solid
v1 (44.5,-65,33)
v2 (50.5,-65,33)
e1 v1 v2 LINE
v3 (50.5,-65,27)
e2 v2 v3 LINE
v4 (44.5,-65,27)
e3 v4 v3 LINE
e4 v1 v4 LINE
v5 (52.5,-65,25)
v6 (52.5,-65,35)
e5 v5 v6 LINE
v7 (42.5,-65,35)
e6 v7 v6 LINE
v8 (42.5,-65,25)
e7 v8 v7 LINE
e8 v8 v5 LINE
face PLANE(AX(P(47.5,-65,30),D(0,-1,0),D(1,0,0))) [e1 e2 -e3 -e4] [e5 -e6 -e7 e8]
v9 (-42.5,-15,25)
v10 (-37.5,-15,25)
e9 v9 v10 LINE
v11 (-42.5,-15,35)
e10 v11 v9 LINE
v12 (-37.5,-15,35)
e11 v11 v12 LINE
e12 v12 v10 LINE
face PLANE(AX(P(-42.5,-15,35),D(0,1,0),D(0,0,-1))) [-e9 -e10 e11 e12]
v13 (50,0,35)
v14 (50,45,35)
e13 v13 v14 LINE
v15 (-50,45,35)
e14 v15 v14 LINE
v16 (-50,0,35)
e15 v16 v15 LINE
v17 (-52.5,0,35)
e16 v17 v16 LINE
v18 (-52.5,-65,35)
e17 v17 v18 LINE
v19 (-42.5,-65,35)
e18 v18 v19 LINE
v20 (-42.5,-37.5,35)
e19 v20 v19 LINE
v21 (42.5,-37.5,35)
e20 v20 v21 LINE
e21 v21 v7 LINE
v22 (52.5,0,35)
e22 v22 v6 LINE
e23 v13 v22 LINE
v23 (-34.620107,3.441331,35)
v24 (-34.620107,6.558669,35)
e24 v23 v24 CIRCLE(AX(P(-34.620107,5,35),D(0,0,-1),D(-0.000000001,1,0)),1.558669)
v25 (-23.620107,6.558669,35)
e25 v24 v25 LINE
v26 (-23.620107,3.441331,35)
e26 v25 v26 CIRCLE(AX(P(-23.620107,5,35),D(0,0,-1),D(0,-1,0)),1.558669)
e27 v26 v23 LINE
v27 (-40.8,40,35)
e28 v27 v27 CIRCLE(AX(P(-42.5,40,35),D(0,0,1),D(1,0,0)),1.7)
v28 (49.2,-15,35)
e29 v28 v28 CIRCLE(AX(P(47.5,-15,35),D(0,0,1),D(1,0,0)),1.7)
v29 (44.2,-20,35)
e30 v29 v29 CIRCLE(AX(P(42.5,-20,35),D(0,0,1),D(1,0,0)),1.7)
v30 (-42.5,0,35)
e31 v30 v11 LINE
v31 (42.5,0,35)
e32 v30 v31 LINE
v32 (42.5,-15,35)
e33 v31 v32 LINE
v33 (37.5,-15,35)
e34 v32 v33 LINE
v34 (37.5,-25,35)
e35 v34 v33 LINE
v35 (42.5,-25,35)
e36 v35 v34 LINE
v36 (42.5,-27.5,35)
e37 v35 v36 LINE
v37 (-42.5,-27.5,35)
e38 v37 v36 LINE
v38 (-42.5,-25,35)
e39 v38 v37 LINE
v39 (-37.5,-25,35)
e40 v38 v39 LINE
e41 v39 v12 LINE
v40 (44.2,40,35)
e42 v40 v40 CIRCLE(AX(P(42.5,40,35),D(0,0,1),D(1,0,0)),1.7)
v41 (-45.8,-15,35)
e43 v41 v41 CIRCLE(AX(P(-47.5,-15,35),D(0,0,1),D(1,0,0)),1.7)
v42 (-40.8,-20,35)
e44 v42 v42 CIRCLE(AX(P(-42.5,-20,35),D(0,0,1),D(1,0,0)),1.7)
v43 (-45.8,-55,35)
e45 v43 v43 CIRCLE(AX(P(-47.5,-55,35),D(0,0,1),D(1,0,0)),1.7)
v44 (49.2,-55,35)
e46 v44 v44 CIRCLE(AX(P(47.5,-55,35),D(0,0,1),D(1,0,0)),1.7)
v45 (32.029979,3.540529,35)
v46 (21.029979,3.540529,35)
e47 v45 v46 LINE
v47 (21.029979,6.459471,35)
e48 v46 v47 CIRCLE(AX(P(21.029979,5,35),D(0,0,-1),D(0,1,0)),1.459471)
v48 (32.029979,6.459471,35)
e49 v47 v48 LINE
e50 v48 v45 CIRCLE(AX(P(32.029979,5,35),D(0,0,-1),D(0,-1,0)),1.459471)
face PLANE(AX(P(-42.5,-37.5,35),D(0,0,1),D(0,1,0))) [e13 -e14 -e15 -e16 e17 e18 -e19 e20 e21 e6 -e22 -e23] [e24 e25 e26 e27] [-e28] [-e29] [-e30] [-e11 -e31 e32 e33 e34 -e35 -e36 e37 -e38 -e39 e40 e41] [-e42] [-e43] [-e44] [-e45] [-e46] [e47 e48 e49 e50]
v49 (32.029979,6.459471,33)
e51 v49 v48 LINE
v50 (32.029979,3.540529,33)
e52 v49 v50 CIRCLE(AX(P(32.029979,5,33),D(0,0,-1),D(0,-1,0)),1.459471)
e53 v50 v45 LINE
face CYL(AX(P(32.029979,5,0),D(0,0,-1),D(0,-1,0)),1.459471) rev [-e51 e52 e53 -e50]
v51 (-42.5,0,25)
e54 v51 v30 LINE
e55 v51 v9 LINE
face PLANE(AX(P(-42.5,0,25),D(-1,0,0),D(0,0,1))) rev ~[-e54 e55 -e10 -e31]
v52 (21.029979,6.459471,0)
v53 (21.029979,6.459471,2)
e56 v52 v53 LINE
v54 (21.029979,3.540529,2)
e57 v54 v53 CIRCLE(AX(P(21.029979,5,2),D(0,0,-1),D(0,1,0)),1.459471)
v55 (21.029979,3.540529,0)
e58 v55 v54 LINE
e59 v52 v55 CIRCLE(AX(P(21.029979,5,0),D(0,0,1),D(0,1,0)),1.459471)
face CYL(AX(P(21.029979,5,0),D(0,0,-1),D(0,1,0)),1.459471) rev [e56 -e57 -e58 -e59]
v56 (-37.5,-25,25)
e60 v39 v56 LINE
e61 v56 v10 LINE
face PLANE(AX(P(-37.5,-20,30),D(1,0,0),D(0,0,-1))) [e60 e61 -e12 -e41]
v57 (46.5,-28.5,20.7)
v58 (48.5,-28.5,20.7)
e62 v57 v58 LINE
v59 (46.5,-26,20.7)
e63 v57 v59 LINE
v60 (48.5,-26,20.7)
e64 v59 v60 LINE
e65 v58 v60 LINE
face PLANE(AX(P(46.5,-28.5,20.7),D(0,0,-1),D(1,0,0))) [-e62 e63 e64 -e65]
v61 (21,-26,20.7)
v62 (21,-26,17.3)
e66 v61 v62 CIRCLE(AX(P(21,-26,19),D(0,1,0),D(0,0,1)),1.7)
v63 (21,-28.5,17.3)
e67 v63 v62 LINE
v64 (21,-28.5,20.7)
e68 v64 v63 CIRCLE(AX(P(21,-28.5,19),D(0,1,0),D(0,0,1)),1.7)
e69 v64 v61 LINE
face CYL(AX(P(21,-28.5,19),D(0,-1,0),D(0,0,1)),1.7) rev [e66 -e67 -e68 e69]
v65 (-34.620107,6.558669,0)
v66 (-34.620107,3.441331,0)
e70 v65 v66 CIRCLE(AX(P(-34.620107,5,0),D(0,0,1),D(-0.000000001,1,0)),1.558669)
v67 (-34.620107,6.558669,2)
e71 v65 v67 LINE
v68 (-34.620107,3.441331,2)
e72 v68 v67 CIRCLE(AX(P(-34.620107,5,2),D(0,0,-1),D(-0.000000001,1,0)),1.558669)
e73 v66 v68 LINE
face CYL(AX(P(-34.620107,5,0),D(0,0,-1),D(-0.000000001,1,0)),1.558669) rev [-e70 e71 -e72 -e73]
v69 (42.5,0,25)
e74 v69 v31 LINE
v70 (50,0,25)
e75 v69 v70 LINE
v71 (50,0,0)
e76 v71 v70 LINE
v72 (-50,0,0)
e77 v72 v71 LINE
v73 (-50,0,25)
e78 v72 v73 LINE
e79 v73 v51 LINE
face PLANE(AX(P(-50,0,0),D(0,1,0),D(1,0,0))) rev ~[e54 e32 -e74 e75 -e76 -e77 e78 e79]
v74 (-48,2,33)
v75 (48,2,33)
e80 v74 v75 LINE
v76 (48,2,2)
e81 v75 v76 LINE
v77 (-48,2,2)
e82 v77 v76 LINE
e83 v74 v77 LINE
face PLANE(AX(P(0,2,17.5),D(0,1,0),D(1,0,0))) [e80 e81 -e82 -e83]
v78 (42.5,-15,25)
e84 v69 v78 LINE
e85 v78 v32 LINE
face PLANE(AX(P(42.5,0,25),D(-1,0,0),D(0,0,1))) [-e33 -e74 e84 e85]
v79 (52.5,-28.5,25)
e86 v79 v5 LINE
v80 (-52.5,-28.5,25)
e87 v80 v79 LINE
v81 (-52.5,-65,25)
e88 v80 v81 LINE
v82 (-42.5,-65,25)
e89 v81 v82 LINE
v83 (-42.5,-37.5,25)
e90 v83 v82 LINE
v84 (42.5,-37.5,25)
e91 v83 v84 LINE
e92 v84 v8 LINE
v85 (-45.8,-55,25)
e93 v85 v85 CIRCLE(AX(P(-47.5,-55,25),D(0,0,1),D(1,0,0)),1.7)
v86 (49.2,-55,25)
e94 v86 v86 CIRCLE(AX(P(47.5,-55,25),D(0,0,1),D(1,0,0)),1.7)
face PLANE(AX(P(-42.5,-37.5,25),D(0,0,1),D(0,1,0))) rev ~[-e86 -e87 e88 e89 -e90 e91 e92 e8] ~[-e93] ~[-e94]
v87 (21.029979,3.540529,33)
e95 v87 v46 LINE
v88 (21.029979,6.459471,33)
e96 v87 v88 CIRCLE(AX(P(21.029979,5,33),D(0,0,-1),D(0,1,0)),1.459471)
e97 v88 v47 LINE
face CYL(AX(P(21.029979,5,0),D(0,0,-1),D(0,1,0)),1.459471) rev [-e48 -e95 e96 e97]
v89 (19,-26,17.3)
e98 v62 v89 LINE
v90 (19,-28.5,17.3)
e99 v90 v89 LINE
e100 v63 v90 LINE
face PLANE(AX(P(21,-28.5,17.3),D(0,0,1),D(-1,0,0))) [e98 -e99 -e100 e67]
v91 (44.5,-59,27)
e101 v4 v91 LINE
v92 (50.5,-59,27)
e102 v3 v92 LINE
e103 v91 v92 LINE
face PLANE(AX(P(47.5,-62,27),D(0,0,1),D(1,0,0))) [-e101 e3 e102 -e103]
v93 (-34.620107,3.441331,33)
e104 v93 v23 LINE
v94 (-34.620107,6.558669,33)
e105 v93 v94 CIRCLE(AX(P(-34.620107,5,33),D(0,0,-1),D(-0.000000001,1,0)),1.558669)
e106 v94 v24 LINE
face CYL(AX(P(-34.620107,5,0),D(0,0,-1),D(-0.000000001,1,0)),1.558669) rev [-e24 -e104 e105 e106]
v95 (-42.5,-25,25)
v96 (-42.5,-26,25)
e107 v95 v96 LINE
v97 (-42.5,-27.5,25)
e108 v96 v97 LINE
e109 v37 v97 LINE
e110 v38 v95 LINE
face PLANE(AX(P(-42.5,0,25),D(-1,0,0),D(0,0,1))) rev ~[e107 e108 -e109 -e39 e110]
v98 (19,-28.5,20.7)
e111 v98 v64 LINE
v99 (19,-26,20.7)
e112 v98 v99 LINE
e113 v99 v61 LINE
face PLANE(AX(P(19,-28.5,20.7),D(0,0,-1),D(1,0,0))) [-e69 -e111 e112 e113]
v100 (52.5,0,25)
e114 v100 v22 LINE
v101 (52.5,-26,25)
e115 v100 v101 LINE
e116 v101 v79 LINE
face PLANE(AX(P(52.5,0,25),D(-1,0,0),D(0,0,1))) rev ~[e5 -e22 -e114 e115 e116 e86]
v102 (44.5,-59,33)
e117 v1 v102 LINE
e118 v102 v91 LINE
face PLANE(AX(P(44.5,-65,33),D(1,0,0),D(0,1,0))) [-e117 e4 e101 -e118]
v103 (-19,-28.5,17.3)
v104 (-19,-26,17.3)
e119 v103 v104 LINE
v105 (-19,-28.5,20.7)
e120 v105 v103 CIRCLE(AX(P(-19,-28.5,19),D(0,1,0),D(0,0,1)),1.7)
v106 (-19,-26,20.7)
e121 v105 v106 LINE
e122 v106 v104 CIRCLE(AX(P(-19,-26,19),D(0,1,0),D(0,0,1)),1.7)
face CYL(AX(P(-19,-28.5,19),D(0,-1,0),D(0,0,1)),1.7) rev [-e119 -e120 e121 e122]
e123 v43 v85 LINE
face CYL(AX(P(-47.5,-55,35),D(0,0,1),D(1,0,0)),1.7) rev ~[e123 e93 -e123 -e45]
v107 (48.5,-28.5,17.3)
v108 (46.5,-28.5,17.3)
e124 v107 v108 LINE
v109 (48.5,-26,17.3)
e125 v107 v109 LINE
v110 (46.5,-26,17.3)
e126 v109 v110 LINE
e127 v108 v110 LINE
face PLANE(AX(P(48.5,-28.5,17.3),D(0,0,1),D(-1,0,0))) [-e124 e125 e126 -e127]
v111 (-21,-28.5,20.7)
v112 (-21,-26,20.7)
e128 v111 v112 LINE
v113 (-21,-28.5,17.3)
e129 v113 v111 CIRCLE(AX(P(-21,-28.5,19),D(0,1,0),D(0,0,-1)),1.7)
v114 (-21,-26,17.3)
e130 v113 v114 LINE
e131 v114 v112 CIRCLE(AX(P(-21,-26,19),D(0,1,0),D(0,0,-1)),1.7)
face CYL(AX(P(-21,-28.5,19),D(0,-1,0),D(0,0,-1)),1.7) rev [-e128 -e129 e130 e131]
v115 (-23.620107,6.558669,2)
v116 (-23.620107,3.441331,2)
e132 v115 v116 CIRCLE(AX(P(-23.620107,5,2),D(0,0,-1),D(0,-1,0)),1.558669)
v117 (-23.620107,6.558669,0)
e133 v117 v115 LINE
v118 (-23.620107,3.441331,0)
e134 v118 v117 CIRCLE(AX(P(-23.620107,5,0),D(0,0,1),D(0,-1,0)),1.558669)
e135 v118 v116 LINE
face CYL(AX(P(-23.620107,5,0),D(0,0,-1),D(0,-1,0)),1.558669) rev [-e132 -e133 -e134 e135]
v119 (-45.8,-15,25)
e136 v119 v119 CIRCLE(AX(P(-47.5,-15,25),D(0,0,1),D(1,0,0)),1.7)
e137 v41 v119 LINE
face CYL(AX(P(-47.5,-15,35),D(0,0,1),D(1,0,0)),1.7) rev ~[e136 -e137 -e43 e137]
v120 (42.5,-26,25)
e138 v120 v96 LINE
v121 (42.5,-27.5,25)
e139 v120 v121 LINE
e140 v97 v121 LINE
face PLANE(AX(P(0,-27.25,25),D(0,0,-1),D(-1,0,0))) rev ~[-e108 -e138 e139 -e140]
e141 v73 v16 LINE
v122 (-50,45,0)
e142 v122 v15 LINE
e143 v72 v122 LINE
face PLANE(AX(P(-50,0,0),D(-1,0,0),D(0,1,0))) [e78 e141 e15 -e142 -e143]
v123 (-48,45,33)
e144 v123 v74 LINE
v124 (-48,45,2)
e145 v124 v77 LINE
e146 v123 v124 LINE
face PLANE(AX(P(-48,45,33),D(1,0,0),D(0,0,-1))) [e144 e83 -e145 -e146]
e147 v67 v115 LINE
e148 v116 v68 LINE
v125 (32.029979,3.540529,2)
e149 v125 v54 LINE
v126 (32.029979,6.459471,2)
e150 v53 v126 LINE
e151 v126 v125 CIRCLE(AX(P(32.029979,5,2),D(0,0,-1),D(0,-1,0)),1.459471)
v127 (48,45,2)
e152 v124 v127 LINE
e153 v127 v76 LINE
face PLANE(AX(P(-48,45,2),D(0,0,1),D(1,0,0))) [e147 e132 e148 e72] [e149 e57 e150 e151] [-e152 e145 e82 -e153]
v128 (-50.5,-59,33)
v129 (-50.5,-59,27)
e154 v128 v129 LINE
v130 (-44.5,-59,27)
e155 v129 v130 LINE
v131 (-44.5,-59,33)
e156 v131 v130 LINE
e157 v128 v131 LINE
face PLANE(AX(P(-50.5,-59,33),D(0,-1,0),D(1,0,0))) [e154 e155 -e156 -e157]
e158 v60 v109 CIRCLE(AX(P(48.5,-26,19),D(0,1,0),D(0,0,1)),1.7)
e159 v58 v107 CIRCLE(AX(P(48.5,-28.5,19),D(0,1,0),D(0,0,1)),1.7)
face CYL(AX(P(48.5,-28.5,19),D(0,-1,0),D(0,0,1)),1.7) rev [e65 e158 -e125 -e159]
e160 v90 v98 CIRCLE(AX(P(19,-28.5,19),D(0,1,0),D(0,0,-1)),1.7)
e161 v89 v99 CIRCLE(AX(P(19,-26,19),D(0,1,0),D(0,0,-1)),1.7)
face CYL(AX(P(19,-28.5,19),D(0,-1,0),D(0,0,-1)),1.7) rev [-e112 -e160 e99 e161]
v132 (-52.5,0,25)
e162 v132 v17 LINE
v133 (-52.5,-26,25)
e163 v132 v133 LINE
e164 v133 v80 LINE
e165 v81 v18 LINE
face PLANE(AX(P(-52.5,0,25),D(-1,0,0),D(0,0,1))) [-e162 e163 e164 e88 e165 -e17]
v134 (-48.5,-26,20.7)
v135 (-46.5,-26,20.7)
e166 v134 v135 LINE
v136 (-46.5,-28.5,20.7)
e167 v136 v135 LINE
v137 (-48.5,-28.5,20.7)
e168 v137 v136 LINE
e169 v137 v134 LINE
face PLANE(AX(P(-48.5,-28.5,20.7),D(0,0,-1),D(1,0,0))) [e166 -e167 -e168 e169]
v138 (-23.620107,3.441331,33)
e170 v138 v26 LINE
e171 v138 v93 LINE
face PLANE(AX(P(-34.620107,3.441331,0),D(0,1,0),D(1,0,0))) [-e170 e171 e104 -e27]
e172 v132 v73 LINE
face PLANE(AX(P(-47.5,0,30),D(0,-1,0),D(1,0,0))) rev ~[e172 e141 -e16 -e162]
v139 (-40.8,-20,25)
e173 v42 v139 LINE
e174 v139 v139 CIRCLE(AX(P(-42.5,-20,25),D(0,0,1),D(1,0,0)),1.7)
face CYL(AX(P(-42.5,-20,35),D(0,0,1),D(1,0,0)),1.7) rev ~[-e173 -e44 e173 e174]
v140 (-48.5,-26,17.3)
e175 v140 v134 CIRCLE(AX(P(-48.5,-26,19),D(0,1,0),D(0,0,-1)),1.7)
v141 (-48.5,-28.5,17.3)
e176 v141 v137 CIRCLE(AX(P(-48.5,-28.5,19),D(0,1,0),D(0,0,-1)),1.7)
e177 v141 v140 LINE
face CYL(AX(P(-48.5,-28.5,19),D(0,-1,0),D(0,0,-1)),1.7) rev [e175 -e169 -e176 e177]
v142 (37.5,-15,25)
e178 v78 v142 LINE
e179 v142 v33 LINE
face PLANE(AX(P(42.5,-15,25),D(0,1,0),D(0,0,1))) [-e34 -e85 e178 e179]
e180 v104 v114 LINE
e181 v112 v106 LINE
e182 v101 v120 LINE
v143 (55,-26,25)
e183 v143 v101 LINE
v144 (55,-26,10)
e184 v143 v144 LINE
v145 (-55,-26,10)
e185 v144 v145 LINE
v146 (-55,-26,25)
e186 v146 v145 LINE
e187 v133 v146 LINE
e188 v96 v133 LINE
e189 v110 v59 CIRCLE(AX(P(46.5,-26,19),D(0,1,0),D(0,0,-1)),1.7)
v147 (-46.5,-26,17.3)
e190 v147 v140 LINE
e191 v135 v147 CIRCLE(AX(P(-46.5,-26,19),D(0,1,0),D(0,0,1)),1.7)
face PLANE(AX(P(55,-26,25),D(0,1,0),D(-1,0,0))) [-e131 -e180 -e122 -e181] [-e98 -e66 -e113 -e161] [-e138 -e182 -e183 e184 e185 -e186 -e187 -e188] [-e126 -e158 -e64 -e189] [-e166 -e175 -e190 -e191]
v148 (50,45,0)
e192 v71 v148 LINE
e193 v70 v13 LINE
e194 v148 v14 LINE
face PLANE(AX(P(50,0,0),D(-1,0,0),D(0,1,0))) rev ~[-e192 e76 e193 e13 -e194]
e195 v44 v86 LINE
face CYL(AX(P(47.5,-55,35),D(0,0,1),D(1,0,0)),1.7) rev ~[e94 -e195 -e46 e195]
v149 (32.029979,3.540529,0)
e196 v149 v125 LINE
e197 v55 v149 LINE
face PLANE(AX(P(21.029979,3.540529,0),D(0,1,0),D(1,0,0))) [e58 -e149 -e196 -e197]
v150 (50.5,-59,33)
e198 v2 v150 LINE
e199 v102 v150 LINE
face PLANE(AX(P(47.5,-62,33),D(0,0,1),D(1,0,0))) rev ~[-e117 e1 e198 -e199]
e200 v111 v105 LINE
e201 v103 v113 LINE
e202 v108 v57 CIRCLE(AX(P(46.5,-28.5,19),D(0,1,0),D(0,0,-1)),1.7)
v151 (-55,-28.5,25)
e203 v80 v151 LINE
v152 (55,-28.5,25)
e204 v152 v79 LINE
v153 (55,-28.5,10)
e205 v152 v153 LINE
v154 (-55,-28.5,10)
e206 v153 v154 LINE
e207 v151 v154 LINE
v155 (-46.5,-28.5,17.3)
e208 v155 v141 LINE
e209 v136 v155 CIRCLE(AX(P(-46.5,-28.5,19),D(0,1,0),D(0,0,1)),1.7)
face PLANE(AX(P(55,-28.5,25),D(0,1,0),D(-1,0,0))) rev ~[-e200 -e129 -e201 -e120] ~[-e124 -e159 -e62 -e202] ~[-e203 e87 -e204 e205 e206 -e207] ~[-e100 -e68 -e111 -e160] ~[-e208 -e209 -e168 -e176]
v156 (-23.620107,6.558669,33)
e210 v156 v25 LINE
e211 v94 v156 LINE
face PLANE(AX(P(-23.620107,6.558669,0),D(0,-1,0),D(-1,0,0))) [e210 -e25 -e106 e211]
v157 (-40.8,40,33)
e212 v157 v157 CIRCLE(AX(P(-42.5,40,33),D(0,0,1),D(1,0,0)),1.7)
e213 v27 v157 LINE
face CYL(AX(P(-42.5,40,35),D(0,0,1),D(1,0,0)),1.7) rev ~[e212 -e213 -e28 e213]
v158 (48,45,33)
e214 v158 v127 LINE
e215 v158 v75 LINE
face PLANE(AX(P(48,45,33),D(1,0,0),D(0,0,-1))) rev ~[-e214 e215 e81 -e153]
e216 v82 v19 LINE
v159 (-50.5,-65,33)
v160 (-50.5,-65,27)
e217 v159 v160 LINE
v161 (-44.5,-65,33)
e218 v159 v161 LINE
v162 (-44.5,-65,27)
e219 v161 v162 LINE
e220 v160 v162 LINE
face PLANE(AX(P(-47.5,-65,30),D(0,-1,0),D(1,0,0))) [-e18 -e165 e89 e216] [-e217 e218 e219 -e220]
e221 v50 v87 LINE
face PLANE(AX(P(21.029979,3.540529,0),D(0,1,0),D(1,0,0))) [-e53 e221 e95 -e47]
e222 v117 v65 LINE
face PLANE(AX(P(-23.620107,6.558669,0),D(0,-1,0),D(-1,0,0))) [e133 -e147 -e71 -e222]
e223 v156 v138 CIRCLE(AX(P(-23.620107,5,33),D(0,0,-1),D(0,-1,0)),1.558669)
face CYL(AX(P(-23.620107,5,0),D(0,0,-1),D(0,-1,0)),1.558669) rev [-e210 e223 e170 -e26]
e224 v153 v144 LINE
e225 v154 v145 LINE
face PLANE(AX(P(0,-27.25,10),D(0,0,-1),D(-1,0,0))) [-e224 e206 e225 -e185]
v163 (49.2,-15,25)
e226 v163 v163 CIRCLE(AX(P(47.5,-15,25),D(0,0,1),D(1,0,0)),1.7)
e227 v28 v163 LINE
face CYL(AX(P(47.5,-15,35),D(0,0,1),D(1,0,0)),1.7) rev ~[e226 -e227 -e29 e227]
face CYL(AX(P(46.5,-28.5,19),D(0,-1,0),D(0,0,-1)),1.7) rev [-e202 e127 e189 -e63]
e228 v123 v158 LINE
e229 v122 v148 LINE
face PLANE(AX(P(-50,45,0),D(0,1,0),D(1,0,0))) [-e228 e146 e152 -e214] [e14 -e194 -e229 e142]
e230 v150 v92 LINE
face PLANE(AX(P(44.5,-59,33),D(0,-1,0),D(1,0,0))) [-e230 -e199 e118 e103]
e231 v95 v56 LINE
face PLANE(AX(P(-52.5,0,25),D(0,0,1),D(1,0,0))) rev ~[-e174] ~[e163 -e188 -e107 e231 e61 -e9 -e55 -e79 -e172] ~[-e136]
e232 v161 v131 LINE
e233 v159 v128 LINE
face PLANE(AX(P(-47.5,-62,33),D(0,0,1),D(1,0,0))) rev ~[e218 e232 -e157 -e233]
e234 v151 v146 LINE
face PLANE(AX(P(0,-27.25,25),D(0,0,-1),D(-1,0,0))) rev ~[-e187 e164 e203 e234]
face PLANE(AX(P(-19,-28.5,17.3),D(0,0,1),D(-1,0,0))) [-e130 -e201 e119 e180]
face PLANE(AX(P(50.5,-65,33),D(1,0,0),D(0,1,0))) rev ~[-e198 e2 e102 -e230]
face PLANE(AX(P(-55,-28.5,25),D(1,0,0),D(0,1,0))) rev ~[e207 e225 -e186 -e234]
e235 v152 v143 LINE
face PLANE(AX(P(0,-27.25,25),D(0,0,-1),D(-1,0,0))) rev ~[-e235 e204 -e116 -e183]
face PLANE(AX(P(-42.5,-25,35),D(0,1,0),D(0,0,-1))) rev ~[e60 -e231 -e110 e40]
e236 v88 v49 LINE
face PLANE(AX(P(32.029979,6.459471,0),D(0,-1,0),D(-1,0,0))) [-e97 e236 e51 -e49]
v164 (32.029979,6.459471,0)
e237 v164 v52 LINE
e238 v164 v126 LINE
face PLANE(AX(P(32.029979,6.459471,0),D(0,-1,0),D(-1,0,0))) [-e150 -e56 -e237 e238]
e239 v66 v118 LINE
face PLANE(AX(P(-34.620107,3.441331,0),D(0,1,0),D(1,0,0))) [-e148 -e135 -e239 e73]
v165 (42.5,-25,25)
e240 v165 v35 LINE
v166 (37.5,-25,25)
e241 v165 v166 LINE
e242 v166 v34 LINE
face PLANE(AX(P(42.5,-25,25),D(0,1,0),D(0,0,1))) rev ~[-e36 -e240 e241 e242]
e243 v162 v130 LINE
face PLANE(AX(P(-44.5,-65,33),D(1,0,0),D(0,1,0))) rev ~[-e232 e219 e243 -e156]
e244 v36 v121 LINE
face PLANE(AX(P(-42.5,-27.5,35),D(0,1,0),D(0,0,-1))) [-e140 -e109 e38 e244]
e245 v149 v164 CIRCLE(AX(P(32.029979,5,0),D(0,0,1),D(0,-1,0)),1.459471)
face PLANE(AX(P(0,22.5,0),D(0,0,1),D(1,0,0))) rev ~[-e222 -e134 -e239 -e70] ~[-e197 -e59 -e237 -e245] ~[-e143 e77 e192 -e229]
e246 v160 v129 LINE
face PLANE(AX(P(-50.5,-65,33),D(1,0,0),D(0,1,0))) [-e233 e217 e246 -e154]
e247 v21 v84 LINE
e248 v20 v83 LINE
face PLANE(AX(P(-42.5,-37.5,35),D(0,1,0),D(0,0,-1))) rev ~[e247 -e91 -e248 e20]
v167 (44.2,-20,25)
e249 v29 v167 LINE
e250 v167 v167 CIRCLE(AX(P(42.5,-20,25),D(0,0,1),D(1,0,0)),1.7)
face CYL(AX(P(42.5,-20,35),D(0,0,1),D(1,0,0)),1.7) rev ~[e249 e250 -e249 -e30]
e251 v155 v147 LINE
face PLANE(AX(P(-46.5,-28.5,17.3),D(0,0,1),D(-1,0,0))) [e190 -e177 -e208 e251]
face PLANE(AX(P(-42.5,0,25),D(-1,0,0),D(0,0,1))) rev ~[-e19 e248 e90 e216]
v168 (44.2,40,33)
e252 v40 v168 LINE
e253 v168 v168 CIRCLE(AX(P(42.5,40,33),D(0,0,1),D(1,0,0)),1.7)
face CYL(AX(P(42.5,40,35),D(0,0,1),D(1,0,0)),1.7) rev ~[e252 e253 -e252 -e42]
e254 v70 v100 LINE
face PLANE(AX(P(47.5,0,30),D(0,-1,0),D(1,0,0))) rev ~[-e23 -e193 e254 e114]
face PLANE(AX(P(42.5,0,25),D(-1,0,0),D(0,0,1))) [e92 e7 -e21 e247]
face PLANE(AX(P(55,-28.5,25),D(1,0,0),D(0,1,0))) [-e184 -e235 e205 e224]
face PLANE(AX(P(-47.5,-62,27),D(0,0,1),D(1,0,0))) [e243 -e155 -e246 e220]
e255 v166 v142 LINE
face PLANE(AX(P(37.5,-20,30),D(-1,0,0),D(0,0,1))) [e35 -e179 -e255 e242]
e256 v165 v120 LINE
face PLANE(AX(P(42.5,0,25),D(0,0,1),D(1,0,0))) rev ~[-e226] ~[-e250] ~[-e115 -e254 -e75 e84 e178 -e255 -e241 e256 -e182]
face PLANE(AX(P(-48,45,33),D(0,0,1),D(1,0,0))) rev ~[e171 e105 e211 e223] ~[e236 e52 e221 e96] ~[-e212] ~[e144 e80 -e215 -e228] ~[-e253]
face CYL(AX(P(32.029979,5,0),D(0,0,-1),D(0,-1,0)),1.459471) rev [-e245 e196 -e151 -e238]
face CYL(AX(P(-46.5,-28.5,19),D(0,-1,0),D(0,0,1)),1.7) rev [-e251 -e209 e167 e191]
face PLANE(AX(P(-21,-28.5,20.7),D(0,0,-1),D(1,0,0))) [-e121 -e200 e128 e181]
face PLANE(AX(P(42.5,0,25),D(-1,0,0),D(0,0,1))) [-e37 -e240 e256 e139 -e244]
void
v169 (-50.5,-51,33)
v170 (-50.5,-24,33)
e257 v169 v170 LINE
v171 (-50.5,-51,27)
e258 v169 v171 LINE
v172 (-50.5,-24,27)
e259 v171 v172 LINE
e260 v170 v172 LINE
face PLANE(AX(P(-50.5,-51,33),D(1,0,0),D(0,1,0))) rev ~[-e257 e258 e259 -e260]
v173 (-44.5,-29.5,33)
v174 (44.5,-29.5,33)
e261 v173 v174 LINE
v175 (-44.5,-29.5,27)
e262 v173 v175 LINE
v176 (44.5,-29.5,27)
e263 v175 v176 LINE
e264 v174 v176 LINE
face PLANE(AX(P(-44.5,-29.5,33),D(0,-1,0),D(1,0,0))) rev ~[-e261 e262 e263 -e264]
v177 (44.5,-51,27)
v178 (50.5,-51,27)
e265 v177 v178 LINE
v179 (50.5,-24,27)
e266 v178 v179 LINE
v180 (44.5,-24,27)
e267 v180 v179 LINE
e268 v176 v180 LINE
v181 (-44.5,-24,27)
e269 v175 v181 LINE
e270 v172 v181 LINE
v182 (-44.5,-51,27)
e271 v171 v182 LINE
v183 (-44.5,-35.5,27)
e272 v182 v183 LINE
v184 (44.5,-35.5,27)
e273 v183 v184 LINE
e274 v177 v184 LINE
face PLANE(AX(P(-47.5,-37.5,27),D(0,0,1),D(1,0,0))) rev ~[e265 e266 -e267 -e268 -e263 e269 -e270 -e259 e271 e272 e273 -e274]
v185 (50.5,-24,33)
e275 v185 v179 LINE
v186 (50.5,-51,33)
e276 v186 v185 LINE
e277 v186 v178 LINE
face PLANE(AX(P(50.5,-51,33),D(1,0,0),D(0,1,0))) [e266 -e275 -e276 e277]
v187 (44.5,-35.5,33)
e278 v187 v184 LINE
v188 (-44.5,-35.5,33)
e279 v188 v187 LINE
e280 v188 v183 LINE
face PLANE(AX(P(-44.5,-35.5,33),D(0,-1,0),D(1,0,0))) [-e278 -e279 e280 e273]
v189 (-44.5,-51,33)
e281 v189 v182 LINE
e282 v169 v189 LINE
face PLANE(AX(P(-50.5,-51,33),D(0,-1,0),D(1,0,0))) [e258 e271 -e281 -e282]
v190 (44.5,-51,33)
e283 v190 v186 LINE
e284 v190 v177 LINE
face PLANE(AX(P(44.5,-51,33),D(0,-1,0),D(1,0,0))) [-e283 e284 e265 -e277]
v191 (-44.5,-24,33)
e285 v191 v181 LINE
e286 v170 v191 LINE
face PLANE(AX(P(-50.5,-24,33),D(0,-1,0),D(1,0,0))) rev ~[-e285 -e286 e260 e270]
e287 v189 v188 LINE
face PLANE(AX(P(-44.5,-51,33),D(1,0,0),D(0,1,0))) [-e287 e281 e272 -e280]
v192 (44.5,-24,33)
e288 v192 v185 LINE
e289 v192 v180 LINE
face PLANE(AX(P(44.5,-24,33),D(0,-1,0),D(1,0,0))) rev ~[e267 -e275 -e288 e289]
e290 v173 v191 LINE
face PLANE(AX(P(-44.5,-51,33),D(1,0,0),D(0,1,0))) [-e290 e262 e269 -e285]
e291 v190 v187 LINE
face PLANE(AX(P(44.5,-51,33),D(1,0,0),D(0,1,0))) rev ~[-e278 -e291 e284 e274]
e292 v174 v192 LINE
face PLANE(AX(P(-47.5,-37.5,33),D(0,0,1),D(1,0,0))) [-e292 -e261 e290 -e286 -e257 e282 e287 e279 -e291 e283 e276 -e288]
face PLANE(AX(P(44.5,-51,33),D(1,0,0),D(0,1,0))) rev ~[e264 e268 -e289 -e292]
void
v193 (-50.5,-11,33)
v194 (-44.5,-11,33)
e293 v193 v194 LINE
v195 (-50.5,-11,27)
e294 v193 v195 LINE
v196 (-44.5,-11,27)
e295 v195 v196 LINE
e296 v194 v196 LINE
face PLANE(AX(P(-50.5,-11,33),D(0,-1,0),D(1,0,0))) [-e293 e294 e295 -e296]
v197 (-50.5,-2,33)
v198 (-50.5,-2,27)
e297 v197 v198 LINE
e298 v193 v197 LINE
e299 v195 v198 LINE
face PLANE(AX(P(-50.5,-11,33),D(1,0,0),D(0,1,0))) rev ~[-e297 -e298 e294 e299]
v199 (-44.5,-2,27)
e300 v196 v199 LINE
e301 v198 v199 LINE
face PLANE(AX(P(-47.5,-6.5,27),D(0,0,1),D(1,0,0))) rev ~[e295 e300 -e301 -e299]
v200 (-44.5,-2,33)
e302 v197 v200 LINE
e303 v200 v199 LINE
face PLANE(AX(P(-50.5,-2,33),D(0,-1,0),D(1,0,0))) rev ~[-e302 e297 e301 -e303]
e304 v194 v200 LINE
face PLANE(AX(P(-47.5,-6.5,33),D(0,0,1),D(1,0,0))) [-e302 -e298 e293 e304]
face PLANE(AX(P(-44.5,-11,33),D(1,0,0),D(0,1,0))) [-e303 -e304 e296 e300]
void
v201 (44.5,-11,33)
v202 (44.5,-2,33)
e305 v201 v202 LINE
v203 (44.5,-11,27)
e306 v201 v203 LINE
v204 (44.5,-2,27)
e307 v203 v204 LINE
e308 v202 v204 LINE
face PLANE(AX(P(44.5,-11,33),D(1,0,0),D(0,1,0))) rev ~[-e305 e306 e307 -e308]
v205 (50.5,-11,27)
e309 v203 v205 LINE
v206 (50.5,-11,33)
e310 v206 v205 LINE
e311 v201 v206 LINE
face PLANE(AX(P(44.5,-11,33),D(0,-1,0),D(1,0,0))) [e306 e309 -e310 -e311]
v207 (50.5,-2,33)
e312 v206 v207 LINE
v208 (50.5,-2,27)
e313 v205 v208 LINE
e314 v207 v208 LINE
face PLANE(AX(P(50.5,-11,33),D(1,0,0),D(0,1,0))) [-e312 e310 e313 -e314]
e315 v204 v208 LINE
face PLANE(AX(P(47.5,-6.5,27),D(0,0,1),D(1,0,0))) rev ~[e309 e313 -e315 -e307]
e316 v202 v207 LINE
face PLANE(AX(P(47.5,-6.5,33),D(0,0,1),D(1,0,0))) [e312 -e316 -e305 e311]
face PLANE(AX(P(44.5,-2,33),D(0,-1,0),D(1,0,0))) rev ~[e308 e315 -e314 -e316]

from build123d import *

# Parameters (mm, degrees)
V3_BOX_FOOTPRINT_100_X_45_MM_W                 = 100
V3_BOX_FOOTPRINT_100_X_45_MM_H                 = 45
V3_BOX_HEIGHT_35_MM_DEPTH                      = 35
V3_REAR_OPENING_96_X_31_MM_W                   = 96
V3_REAR_OPENING_96_X_31_MM_H                   = 31
V3_CAVITY_ALL_WALLS_2_MM_DEPTH                 = 43
V3_SQUARE_BEAMS_10_X_10_PITCH_95_MM_W          = 10
V3_SQUARE_BEAMS_10_X_10_PITCH_95_MM_H          = 10
V3_FORWARD_BEAM_LENGTH_65_MM_DEPTH             = 65
V3_LEFT_PCB_EAR_PROFILE_W                      = 10
V3_LEFT_PCB_EAR_PROFILE_H                      = 10
V3_LEFT_INWARD_EAR_5_MM_DEPTH                  = 5
V3_RIGHT_PCB_EAR_PROFILE_W                     = 10
V3_RIGHT_PCB_EAR_PROFILE_H                     = 10
V3_RIGHT_INWARD_EAR_5_MM_DEPTH                 = 5
V3_PCB_ROOF_PAIR_PITCH_85_MM_R                 = 1.7
V3_M3_ROOF_HOLES_DIAMETER_3_4_MM_DEPTH         = 2
V3_PCB_FORWARD_PAIR_ROW_SPACING_60_MM_R        = 1.7
V3_M3_PCB_EAR_HOLES_DEPTH                      = 10
V3_CHASSIS_TOP_HOLES_WIDTH_95_DEPTH_40_M_R     = 1.7
V3_M3_BEAM_TOP_BOTTOM_HOLES_DEPTH              = 10
V3_HANGING_PLATE_OFFSET_26_THICKNESS_2_5_W     = 110
V3_HANGING_PLATE_OFFSET_26_THICKNESS_2_5_H     = 2.5
V3_MOUNTING_PLATE_DOWNWARD_15_MM_WIDTH_1_DEPTH = 15
FOUR_HORIZONTAL_SLOTS_3_4_X_5_4_MM_DEPTH       = 2.5
CUT_EXTRUDE_1_DEPTH                            = 93.059763198
H_CROSSMEMBER_10_X_10_MM_AT_BEAM_MIDPOIN_W     = 10
H_CROSSMEMBER_10_X_10_MM_AT_BEAM_MIDPOIN_H     = 10
H_CROSSMEMBER_85_MM_DEPTH                      = 85
LONGITUDINAL_START                             = -2
BEAM_CAVITIES_6_MM_WIDE_PRESERVING_SCREW_W     = 6
BEAM_CAVITIES_6_MM_WIDE_PRESERVING_SCREW_H     = 6
BEAM_CAVITIES_6_MM_WIDE_PRESERVING_SCREW_H_2   = 27
BEAM_CAVITIES_6_MM_WIDE_PRESERVING_SCREW_H_3   = 9
LONGITUDINAL_BEAM_WALLS_2_MM_INNER_HEI_DEPTH   = 6
H_START                                        = -2
H_CROSSMEMBER_CAVITY_CONNECTS_BOTH_BEAM_W      = 89
H_CROSSMEMBER_CAVITY_CONNECTS_BOTH_BEAM_H      = 6
H_CROSSMEMBER_WALLS_2_MM_DEPTH                 = 6


with BuildPart() as part:
    # V3 box footprint 100 x 45 mm → V3 box height 35 mm (new body)
    with BuildSketch(Plane.XY):
        with Locations((0, 22.5)):
            Rectangle(V3_BOX_FOOTPRINT_100_X_45_MM_W, V3_BOX_FOOTPRINT_100_X_45_MM_H)
    extrude(amount=V3_BOX_HEIGHT_35_MM_DEPTH)

    # V3 rear opening 96 x 31 mm → V3 cavity all walls 2 mm (cut)
    with BuildSketch(Plane(origin=(0, 45, 0), x_dir=(1, 0, 0), z_dir=(0, 1, 0))):
        with Locations((0, -17.5)):
            Rectangle(V3_REAR_OPENING_96_X_31_MM_W, V3_REAR_OPENING_96_X_31_MM_H)
    extrude(amount=-V3_CAVITY_ALL_WALLS_2_MM_DEPTH, mode=Mode.SUBTRACT)

    # V3 square beams 10 x 10 pitch 95 mm → V3 forward beam length 65 mm (add)
    with BuildSketch(Plane.XZ):
        with Locations((-47.5, 30)):
            Rectangle(V3_SQUARE_BEAMS_10_X_10_PITCH_95_MM_W, V3_SQUARE_BEAMS_10_X_10_PITCH_95_MM_H)
        with Locations((47.5, 30)):
            Rectangle(V3_SQUARE_BEAMS_10_X_10_PITCH_95_MM_W, V3_SQUARE_BEAMS_10_X_10_PITCH_95_MM_H)
    extrude(amount=V3_FORWARD_BEAM_LENGTH_65_MM_DEPTH)

    # V3 left PCB ear profile → V3 left inward ear 5 mm (add)
    with BuildSketch(Plane(origin=(-42.5, 0, 0), x_dir=(0, 0, -1), z_dir=(1, 0, 0))):
        with Locations((-30, -20)):
            Rectangle(V3_LEFT_PCB_EAR_PROFILE_W, V3_LEFT_PCB_EAR_PROFILE_H)
    extrude(amount=V3_LEFT_INWARD_EAR_5_MM_DEPTH)

    # V3 right PCB ear profile → V3 right inward ear 5 mm (add)
    with BuildSketch(Plane.ZY.offset(-42.5)):
        with Locations((30, -20)):
            Rectangle(V3_RIGHT_PCB_EAR_PROFILE_W, V3_RIGHT_PCB_EAR_PROFILE_H)
    extrude(amount=V3_RIGHT_INWARD_EAR_5_MM_DEPTH)

    # V3 PCB roof pair pitch 85 mm → V3 M3 roof holes diameter 3.4 mm (cut)
    with BuildSketch(Plane.XY.offset(35)):
        with Locations((-42.5, 40)):
            Circle(V3_PCB_ROOF_PAIR_PITCH_85_MM_R)
        with Locations((42.5, 40)):
            Circle(V3_PCB_ROOF_PAIR_PITCH_85_MM_R)
    extrude(amount=-V3_M3_ROOF_HOLES_DIAMETER_3_4_MM_DEPTH, mode=Mode.SUBTRACT)

    # V3 PCB forward pair row spacing 60 mm → V3 M3 PCB ear holes (cut)
    with BuildSketch(Plane.XY.offset(35)):
        with Locations((-42.5, -20)):
            Circle(V3_PCB_FORWARD_PAIR_ROW_SPACING_60_MM_R)
        with Locations((42.5, -20)):
            Circle(V3_PCB_FORWARD_PAIR_ROW_SPACING_60_MM_R)
    extrude(amount=-V3_M3_PCB_EAR_HOLES_DEPTH, mode=Mode.SUBTRACT)

    # V3 chassis top holes width 95 depth 40 mm → V3 M3 beam top bottom holes (cut)
    with BuildSketch(Plane.XY.offset(35)):
        with Locations((-47.5, -55)):
            Circle(V3_CHASSIS_TOP_HOLES_WIDTH_95_DEPTH_40_M_R)
        with Locations((-47.5, -15)):
            Circle(V3_CHASSIS_TOP_HOLES_WIDTH_95_DEPTH_40_M_R)
        with Locations((47.5, -55)):
            Circle(V3_CHASSIS_TOP_HOLES_WIDTH_95_DEPTH_40_M_R)
        with Locations((47.5, -15)):
            Circle(V3_CHASSIS_TOP_HOLES_WIDTH_95_DEPTH_40_M_R)
    extrude(amount=-V3_M3_BEAM_TOP_BOTTOM_HOLES_DEPTH, mode=Mode.SUBTRACT)

    # V3 hanging plate offset 26 thickness 2.5 mm → V3 mounting plate downward 15 mm width 110 (add)
    with BuildSketch(Plane(origin=(0, 0, 25), x_dir=(-1, 0, 0), z_dir=(0, 0, -1))):
        with Locations((0, -27.25)):
            Rectangle(V3_HANGING_PLATE_OFFSET_26_THICKNESS_2_5_W, V3_HANGING_PLATE_OFFSET_26_THICKNESS_2_5_H)
    extrude(amount=V3_MOUNTING_PLATE_DOWNWARD_15_MM_WIDTH_1_DEPTH)

    # V3 slots 6 mm below beam underside centers 20 and 47.5 → Four horizontal slots 3.4 x 5.4 mm (cut)
    with BuildSketch(Plane.XZ.offset(28.5)):
        with BuildLine():
            Line((-48.5, 20.7), (-46.5, 20.7))
            ThreePointArc((-46.5, 20.7), (-44.8, 19), (-46.5, 17.3))
            Line((-46.5, 17.3), (-48.5, 17.3))
            ThreePointArc((-48.5, 17.3), (-50.2, 19), (-48.5, 20.7))
        make_face()
        with BuildLine():
            Line((-21, 20.7), (-19, 20.7))
            ThreePointArc((-19, 20.7), (-17.3, 19), (-19, 17.3))
            Line((-19, 17.3), (-21, 17.3))
            ThreePointArc((-21, 17.3), (-22.7, 19), (-21, 20.7))
        make_face()
        with BuildLine():
            Line((19, 20.7), (21, 20.7))
            ThreePointArc((21, 20.7), (22.7, 19), (21, 17.3))
            Line((21, 17.3), (19, 17.3))
            ThreePointArc((19, 17.3), (17.3, 19), (19, 20.7))
        make_face()
        with BuildLine():
            Line((46.5, 20.7), (48.5, 20.7))
            ThreePointArc((48.5, 20.7), (50.2, 19), (48.5, 17.3))
            Line((48.5, 17.3), (46.5, 17.3))
            ThreePointArc((46.5, 17.3), (44.8, 19), (46.5, 20.7))
        make_face()
    extrude(amount=-FOUR_HORIZONTAL_SLOTS_3_4_X_5_4_MM_DEPTH, mode=Mode.SUBTRACT)

    # 草图2 → 切除-拉伸1 (cut, through all)
    with BuildSketch(Plane(origin=(0, 0, 0), x_dir=(-1, 0, 0), z_dir=(0, 0, -1))):
        with BuildLine():
            Line((-32.029979042, 6.459471041), (-21.029979042, 6.459471041))
            ThreePointArc((-21.029979042, 6.459471041), (-19.570508001, 5), (-21.029979042, 3.540528959))
            Line((-21.029979042, 3.540528959), (-32.029979042, 3.540528959))
            ThreePointArc((-32.029979042, 3.540528959), (-33.489450083, 5), (-32.029979042, 6.459471041))
        make_face()
        with BuildLine():
            Line((23.620107008, 6.558669056), (34.620107008, 6.558669056))
            ThreePointArc((34.620107008, 6.558669056), (36.178776063, 5), (34.620107008, 3.441330944))
            Line((34.620107008, 3.441330944), (23.620107008, 3.441330944))
            ThreePointArc((23.620107008, 3.441330944), (22.061437952, 5), (23.620107008, 6.558669056))
        make_face()
    extrude(amount=-CUT_EXTRUDE_1_DEPTH, mode=Mode.SUBTRACT)

    # H crossmember 10 x 10 mm at beam midpoint → H crossmember 85 mm (add)
    with BuildSketch(Plane(origin=(-42.5, 0, 0), x_dir=(0, 0, -1), z_dir=(1, 0, 0))):
        with Locations((-30, -32.5)):
            Rectangle(H_CROSSMEMBER_10_X_10_MM_AT_BEAM_MIDPOIN_W, H_CROSSMEMBER_10_X_10_MM_AT_BEAM_MIDPOIN_H)
    extrude(amount=H_CROSSMEMBER_85_MM_DEPTH)

    # Beam cavities 6 mm wide preserving screw collars → Longitudinal beam walls 2 mm - inner height 6 mm (cut)
    with BuildSketch(Plane.XY.offset(35).offset(LONGITUDINAL_START)):
        with Locations((-47.5, -62)):
            Rectangle(BEAM_CAVITIES_6_MM_WIDE_PRESERVING_SCREW_W, BEAM_CAVITIES_6_MM_WIDE_PRESERVING_SCREW_H)
        with Locations((-47.5, -37.5)):
            Rectangle(BEAM_CAVITIES_6_MM_WIDE_PRESERVING_SCREW_W, BEAM_CAVITIES_6_MM_WIDE_PRESERVING_SCREW_H_2)
        with Locations((-47.5, -6.5)):
            Rectangle(BEAM_CAVITIES_6_MM_WIDE_PRESERVING_SCREW_W, BEAM_CAVITIES_6_MM_WIDE_PRESERVING_SCREW_H_3)
        with Locations((47.5, -62)):
            Rectangle(BEAM_CAVITIES_6_MM_WIDE_PRESERVING_SCREW_W, BEAM_CAVITIES_6_MM_WIDE_PRESERVING_SCREW_H)
        with Locations((47.5, -37.5)):
            Rectangle(BEAM_CAVITIES_6_MM_WIDE_PRESERVING_SCREW_W, BEAM_CAVITIES_6_MM_WIDE_PRESERVING_SCREW_H_2)
        with Locations((47.5, -6.5)):
            Rectangle(BEAM_CAVITIES_6_MM_WIDE_PRESERVING_SCREW_W, BEAM_CAVITIES_6_MM_WIDE_PRESERVING_SCREW_H_3)
    extrude(amount=-LONGITUDINAL_BEAM_WALLS_2_MM_INNER_HEI_DEPTH, mode=Mode.SUBTRACT)

    # H crossmember cavity connects both beam cavities → H crossmember walls 2 mm (cut)
    with BuildSketch(Plane.XY.offset(35).offset(H_START)):
        with Locations((0, -32.5)):
            Rectangle(H_CROSSMEMBER_CAVITY_CONNECTS_BOTH_BEAM_W, H_CROSSMEMBER_CAVITY_CONNECTS_BOTH_BEAM_H)
    extrude(amount=-H_CROSSMEMBER_WALLS_2_MM_DEPTH, mode=Mode.SUBTRACT)


solid = part.part
